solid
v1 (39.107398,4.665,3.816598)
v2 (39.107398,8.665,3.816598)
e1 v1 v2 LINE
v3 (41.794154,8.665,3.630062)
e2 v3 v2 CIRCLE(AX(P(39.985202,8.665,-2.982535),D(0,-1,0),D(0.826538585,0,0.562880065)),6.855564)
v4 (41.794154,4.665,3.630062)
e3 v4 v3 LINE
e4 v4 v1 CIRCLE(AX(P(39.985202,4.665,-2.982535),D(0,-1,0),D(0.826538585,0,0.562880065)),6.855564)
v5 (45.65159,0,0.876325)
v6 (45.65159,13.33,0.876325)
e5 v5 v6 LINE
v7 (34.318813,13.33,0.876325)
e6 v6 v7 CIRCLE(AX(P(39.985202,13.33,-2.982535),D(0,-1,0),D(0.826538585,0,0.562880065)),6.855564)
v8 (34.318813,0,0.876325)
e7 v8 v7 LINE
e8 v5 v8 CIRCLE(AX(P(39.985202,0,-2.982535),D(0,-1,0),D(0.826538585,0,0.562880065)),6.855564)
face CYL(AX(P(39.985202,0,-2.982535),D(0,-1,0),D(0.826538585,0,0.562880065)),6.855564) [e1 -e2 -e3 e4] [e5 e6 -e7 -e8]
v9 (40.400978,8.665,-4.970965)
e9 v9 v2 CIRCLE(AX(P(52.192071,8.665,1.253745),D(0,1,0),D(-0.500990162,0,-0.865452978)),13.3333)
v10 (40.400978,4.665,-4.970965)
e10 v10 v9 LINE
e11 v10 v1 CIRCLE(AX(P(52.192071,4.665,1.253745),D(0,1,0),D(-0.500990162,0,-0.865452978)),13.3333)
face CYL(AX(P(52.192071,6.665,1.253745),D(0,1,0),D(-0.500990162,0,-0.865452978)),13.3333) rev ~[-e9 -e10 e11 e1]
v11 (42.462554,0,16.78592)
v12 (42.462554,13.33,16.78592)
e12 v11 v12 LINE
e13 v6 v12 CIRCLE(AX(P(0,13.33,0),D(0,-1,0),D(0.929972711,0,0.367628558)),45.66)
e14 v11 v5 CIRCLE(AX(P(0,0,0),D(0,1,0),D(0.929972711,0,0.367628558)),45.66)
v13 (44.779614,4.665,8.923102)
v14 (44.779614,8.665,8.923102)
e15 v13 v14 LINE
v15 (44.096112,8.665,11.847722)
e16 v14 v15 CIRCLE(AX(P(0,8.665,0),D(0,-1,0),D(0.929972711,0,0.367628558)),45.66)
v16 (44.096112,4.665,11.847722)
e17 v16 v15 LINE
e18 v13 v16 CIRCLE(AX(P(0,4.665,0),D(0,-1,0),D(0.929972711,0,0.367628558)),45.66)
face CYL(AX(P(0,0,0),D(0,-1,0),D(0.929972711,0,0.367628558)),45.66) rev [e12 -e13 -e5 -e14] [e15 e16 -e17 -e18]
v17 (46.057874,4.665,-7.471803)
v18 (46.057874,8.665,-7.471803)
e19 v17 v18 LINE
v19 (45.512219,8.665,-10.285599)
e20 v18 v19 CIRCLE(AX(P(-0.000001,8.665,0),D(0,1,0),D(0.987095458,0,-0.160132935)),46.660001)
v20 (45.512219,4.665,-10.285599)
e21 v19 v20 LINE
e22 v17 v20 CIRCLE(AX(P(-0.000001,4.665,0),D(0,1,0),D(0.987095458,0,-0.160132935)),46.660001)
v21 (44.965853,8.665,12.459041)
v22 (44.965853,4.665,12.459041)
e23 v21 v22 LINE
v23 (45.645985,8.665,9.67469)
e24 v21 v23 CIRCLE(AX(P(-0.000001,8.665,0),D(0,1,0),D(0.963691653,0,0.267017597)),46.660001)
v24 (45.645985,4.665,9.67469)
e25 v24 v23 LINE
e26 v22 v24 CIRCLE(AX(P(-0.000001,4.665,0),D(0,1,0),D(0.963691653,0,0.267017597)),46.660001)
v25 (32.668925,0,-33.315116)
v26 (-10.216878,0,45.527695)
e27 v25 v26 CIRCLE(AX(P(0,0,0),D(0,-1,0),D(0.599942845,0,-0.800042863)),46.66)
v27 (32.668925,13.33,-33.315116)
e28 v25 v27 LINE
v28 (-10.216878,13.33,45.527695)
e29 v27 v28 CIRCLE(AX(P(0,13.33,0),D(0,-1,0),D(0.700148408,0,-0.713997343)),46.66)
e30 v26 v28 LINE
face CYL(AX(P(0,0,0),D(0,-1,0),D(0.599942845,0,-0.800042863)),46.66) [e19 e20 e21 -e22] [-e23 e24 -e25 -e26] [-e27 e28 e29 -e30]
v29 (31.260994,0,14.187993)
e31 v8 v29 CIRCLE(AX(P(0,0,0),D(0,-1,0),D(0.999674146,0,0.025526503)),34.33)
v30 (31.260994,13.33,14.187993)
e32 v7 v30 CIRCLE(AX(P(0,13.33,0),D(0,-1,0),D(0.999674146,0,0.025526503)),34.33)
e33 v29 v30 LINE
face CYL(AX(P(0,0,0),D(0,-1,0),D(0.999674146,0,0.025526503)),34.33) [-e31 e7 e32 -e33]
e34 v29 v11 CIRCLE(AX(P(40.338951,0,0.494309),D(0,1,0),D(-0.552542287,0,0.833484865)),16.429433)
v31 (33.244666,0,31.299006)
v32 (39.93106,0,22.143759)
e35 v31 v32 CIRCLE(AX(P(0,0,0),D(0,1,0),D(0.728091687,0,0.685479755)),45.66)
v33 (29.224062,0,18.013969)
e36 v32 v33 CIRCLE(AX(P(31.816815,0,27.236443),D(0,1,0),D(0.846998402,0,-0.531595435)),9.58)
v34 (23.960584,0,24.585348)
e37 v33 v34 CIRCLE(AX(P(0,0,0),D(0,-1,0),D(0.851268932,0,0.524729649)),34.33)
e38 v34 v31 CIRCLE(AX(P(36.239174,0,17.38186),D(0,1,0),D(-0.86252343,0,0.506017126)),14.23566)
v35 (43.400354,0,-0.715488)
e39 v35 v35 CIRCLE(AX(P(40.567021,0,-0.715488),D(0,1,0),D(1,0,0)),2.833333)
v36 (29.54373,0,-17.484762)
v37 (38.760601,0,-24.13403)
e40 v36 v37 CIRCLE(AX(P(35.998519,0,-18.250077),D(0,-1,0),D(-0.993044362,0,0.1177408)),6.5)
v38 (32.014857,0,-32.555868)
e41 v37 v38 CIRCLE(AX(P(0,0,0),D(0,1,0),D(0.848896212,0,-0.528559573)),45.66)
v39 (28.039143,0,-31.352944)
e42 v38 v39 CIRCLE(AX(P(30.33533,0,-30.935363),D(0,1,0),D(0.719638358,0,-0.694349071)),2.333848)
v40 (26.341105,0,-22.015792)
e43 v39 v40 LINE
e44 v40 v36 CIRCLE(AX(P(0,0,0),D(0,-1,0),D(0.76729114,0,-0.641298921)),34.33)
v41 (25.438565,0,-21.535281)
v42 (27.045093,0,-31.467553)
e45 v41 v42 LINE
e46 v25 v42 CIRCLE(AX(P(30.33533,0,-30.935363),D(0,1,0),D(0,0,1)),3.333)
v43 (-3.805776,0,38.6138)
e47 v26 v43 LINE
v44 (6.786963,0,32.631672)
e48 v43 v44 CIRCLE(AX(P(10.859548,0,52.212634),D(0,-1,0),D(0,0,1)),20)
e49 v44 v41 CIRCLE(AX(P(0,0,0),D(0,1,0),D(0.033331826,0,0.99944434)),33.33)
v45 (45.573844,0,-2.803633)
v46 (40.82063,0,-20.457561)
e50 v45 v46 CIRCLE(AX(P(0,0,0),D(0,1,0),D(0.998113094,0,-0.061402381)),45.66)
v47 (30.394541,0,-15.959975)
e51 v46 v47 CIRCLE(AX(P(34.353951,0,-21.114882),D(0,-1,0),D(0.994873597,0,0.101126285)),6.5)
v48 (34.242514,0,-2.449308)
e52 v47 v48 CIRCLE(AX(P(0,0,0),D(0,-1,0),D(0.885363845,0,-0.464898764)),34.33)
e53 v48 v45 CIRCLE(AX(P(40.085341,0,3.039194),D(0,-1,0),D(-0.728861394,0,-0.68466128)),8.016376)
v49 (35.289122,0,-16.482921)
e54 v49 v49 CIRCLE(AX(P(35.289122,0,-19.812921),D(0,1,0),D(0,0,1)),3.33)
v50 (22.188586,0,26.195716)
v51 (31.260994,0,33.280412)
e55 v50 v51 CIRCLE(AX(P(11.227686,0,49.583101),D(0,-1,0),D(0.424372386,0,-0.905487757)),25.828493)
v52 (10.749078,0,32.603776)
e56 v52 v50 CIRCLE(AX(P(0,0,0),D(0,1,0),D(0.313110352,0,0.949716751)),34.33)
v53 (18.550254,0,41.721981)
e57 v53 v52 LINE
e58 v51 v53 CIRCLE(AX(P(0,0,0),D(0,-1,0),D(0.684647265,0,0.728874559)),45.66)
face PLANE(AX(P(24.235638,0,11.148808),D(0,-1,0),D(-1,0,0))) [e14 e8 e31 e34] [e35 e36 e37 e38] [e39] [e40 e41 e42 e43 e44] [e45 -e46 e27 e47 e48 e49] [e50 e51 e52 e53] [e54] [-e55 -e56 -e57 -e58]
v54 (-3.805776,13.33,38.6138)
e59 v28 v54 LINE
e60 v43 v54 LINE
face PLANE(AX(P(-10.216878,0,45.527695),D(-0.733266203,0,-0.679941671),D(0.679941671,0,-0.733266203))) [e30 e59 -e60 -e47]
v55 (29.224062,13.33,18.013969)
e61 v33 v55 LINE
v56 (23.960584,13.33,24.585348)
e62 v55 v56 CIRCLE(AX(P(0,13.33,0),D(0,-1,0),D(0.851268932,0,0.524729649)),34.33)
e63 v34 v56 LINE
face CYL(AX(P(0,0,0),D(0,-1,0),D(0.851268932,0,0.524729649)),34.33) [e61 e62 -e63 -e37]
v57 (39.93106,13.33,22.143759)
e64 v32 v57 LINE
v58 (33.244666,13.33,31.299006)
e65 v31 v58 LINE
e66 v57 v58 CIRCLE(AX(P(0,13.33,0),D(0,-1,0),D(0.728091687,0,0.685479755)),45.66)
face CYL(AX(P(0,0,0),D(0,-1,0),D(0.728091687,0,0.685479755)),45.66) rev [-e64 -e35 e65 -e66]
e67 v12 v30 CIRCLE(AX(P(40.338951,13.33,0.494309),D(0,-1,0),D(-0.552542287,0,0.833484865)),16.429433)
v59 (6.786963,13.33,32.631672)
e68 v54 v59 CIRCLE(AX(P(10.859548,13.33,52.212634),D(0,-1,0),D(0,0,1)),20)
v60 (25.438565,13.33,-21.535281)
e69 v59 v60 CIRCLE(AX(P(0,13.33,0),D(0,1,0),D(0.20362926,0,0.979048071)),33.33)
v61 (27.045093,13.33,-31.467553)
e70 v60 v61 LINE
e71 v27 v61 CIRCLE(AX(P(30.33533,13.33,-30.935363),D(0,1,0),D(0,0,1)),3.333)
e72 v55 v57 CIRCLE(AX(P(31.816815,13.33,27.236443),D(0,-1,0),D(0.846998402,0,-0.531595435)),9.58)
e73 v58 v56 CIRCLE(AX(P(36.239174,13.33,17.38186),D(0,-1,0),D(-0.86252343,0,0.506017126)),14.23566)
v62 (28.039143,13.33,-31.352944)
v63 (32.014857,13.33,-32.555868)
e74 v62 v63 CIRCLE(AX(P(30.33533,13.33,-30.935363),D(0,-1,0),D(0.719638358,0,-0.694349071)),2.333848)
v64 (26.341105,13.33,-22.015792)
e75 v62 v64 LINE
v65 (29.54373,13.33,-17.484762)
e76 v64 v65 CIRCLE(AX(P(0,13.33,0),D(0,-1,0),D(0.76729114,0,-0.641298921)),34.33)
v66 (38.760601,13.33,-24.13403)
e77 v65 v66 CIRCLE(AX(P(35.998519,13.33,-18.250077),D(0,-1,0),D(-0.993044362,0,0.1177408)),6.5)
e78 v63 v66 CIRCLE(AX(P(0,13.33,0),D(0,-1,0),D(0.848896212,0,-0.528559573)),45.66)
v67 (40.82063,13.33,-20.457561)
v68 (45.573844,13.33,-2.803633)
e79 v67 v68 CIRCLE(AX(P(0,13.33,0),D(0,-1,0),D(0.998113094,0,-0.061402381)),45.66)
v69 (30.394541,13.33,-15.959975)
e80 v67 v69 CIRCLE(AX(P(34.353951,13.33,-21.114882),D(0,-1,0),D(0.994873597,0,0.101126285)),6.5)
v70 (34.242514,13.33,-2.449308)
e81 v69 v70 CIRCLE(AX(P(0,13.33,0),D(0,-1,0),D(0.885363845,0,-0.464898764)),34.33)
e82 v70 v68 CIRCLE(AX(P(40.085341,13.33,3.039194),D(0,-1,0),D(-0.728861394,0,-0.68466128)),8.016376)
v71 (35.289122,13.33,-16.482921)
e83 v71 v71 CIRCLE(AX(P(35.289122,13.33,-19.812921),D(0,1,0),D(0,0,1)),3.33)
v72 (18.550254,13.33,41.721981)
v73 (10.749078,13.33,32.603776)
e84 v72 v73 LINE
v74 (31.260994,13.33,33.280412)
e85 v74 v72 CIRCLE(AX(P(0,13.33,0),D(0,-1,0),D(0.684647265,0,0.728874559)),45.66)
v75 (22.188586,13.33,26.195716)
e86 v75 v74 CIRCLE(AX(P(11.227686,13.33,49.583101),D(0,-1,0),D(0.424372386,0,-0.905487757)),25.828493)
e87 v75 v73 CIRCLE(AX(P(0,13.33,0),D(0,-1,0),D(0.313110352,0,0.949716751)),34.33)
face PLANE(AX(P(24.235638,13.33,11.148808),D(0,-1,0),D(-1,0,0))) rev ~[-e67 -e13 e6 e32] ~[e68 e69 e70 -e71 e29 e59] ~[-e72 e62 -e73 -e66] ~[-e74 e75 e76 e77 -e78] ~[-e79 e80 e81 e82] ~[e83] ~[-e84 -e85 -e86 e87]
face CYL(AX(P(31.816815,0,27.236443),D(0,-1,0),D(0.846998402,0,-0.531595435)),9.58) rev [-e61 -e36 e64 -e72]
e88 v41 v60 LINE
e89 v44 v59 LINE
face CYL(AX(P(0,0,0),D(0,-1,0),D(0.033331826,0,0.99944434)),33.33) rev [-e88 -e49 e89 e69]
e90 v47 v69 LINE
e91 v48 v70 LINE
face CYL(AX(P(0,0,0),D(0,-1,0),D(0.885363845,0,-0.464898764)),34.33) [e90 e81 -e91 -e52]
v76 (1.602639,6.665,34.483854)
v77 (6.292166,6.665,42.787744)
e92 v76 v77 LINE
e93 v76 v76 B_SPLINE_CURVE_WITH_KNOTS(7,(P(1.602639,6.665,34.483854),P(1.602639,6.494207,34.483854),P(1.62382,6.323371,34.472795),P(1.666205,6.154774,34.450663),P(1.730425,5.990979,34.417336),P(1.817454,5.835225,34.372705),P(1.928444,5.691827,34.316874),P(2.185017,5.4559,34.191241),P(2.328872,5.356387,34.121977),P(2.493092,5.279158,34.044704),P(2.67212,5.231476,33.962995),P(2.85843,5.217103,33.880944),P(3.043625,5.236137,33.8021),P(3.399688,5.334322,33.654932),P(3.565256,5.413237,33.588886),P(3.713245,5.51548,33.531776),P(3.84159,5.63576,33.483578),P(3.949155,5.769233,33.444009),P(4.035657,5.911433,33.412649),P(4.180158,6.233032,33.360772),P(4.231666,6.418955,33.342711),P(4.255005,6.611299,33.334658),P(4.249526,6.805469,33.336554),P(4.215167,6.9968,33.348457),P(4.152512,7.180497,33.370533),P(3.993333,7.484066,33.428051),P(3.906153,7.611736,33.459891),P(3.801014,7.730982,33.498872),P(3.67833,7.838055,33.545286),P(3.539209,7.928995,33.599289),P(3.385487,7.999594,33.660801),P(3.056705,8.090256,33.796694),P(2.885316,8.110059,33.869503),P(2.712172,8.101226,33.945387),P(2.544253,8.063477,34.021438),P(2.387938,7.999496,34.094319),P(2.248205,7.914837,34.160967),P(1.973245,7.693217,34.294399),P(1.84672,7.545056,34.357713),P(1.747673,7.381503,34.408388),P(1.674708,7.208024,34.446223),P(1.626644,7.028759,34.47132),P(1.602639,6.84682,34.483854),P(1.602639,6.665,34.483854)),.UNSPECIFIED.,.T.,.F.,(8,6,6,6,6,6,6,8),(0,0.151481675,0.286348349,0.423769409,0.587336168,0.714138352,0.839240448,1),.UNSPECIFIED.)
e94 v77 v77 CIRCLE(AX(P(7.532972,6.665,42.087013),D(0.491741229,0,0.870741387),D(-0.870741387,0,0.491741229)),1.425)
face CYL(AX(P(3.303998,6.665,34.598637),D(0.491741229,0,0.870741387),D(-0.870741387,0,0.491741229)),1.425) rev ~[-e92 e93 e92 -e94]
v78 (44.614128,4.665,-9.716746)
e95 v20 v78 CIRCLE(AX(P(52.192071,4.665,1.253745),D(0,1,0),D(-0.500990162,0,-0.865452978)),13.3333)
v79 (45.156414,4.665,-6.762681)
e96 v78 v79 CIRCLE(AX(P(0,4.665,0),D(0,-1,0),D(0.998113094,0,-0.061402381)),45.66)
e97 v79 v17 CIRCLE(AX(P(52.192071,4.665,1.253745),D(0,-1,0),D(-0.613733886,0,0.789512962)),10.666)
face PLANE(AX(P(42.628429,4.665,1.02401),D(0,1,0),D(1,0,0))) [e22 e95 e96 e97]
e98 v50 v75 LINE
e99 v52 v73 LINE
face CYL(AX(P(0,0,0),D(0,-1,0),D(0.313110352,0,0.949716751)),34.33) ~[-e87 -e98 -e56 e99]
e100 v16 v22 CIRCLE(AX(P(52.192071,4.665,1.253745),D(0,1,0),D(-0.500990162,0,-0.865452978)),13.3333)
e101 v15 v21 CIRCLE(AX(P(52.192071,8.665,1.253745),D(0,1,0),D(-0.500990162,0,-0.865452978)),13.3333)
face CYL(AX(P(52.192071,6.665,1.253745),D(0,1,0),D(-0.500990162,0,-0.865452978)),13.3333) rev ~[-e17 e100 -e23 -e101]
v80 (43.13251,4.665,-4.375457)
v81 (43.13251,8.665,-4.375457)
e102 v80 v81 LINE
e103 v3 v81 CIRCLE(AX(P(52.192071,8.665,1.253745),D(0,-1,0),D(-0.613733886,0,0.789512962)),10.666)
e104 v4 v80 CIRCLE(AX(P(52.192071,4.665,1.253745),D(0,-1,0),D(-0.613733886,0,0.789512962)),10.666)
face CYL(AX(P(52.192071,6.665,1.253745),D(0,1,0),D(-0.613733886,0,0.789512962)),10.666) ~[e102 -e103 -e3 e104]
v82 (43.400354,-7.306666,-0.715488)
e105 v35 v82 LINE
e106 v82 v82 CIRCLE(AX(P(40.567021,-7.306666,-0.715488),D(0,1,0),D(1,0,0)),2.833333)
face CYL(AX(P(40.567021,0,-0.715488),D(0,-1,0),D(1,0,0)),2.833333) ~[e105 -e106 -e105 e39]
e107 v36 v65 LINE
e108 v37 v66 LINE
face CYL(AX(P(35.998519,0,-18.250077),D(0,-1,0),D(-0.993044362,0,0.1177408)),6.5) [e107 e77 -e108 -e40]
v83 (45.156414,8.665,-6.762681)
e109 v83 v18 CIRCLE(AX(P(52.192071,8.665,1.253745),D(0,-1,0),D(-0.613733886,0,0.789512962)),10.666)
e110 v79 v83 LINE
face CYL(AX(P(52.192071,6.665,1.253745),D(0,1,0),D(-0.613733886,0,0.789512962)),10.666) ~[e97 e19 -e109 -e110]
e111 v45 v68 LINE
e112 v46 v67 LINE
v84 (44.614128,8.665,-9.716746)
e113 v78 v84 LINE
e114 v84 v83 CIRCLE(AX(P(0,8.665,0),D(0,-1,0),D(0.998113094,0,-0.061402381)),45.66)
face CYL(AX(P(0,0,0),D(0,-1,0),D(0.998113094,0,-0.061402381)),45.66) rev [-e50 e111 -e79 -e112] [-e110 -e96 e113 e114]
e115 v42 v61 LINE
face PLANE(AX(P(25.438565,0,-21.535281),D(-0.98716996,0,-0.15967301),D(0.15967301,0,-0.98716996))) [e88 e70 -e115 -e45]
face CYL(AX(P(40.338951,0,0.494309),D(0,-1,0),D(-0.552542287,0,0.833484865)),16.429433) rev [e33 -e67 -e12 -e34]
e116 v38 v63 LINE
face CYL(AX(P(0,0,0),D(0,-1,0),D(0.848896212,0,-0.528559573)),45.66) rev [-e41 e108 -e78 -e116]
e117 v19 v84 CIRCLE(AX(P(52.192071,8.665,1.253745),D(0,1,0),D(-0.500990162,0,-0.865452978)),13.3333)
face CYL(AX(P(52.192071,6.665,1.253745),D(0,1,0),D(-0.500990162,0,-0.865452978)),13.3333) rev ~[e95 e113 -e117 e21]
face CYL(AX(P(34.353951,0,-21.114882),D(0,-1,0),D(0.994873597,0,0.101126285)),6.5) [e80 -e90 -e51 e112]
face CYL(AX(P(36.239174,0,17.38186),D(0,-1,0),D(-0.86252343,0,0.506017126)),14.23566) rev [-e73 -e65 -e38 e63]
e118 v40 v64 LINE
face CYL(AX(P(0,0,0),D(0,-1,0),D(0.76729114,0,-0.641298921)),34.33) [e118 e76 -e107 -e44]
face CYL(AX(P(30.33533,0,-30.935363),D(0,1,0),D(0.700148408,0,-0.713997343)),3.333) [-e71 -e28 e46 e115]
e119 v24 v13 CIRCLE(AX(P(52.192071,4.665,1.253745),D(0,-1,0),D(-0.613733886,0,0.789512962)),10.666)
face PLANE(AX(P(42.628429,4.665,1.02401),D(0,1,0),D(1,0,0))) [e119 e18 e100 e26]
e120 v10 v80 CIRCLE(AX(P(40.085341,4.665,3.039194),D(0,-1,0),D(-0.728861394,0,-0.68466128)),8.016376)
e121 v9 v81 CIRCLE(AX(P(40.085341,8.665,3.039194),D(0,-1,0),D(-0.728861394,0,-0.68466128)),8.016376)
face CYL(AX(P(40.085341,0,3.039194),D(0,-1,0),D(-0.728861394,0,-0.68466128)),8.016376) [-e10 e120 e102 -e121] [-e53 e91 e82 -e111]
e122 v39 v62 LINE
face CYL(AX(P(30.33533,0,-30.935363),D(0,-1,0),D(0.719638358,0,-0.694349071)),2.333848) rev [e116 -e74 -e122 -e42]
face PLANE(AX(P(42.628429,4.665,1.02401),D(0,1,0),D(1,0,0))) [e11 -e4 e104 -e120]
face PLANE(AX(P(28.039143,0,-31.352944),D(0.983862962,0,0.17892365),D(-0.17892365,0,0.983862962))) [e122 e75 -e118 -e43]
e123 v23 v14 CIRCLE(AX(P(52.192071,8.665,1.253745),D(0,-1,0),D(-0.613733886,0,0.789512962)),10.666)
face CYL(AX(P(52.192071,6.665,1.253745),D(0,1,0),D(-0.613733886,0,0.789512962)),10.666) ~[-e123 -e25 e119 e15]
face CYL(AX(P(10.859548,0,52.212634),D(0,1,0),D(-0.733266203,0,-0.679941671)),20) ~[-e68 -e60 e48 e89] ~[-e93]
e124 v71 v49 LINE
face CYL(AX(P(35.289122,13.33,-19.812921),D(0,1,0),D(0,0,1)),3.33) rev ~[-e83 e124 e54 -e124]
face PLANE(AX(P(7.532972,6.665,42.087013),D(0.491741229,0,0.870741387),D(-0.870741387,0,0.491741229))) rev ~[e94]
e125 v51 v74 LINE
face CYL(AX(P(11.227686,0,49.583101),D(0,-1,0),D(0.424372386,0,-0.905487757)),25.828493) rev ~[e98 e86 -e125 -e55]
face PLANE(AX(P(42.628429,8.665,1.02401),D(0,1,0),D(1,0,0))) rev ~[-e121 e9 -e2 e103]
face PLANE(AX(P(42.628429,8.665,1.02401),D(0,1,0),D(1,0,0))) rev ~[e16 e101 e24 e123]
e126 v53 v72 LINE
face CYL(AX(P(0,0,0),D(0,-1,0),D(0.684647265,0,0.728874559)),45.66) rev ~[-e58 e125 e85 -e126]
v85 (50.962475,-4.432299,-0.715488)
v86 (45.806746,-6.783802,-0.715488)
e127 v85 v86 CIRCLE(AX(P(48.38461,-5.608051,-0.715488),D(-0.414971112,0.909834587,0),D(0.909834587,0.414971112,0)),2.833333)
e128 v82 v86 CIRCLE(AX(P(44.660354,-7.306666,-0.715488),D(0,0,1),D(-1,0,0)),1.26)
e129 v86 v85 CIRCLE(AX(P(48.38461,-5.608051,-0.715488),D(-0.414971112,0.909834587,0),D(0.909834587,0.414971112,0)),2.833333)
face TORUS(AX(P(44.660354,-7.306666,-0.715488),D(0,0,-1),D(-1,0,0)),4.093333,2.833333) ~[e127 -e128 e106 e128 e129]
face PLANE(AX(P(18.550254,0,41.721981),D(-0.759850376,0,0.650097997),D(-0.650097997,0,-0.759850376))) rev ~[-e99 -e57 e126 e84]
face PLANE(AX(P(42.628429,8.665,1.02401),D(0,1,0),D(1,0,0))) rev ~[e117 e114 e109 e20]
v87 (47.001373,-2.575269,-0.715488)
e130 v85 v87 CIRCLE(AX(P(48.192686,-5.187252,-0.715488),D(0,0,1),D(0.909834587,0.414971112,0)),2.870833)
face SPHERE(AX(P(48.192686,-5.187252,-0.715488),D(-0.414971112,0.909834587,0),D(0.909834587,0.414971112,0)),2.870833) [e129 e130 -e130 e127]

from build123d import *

# Parameters (mm, degrees)
BOSS_EXTRUDE1_DEPTH        = 13.33
FILLET1_R                  = 20
SKETCH3_R                  = 3.33
CUT_EXTRUDE2_DEPTH         = 68.320131462
FILLET2_R                  = 3.333
SKETCH4_R                  = 2.8333333
DOME1_FACE_RADIUS          = 2.8333333
DOME1_HEIGHT               = 3.3333333
CUT_EXTRUDE3_DEPTH         = 2
MIRROR3_COPY_1_FACE_RADIUS = 2.8333333
MIRROR3_COPY_1_HEIGHT      = 3.3333333
SKETCH16_W                 = 36.728720905
SKETCH16_H                 = 19.011400322
CUT_EXTRUDE4_DEPTH         = 30
CUT_EXTRUDE5_DEPTH         = 71.999747127
SKETCH19_R                 = 1.425
CUT_EXTRUDE6_DEPTH         = 8.6


with BuildPart() as part:
    # Sketch1 → Boss-Extrude1 (new body)
    with BuildSketch(Plane(origin=(0, 0, 0), x_dir=(1, 0, 0), z_dir=(0, 1, 0))):
        with BuildLine():
            Line((25.438564969, 21.535280641), (27.993333135, 37.33))
            ThreePointArc((27.993333135, 37.33), (42.371570445, -19.53984693), (-10.216878485, -45.527694802))
            Line((-10.216878485, -45.527694802), (1.110949751, -33.311479863))
            ThreePointArc((1.110949751, -33.311479863), (30.46737546, -13.513990254), (25.438564969, 21.535280641))
        make_face()
    extrude(amount=BOSS_EXTRUDE1_DEPTH)

    # Fillet1
    fillet1_edges = [part.edges().sort_by_distance(p)[0] for p in [
        (1.110949751, 6.665, 33.311479863),
    ]]
    fillet(fillet1_edges, radius=FILLET1_R)

    # Sketch3 → Cut-Extrude2 (cut, through all)
    with BuildSketch(Plane(origin=(0, 13.33, 0), x_dir=(1, 0, 0), z_dir=(0, 1, 0))):
        with Locations(Location((35.289122258, 19.812921474, 0), (0, 0, 270))):
            Circle(SKETCH3_R)
    extrude(amount=-CUT_EXTRUDE2_DEPTH, mode=Mode.SUBTRACT)

    # Fillet2
    fillet2_edges = [part.edges().sort_by_distance(p)[0] for p in [
        (27.993333135, 6.665, -37.33),
    ]]
    fillet(fillet2_edges, radius=FILLET2_R)

    # Sweep1: sweep along a path in Sketch6
    with BuildLine(Plane.XY) as sweep1_path:
        Line((40.567020893, 13.33), (40.567020893, 20.636666))
        ThreePointArc((40.567020893, 20.636666), (45.529478945, 24.636666), (48.384610469, 18.938050913))
    # Sketch4 → Sweep1 (sweep)
    with BuildSketch(Plane(origin=(0, 13.33, 0), x_dir=(1, 0, 0), z_dir=(0, 1, 0))):
        with Locations((40.567020893, 0.715488074)):
            Circle(SKETCH4_R)
    sweep1 = sweep(path=sweep1_path.line)

    # Dome1: a dome of height H over a round flat face of radius A is a cap of a sphere of radius (A * A + H * H) / (2 * H)
    dome1_r = (DOME1_FACE_RADIUS * DOME1_FACE_RADIUS + DOME1_HEIGHT * DOME1_HEIGHT) / (2 * DOME1_HEIGHT)
    dome1_base = Plane((48.384610469, 18.938050913, -0.715488074), z_dir=(-0.414971112372, -0.909834587107, 0))
    with Locations(dome1_base.offset(DOME1_HEIGHT - dome1_r)):
        dome1_ball = Sphere(dome1_r, mode=Mode.PRIVATE)
    add(split(dome1_ball, bisect_by=dome1_base, keep=Keep.TOP, mode=Mode.PRIVATE))

    # Sketch7 → Cut-Extrude3 (cut, symmetric)
    with BuildSketch(Plane(origin=(0, 6.665, 0), x_dir=(1, 0, 0), z_dir=(0, 1, 0))):
        with BuildLine():
            ThreePointArc((44.965852541, -12.459041105), (45.327303444, -11.072089345), (45.645985213, -9.674690379))
            ThreePointArc((45.645985213, -9.674690379), (41.52914689, -0.997602982), (46.057874066, 7.47180276))
            ThreePointArc((46.057874066, 7.47180276), (45.806657105, 8.882891694), (45.51221871, 10.285599066))
            ThreePointArc((45.51221871, 10.285599066), (38.862616133, -0.933548234), (44.965852541, -12.459041105))
        make_face()
    extrude(amount=CUT_EXTRUDE3_DEPTH, both=True, mode=Mode.SUBTRACT)

    # Mirror3: Sweep1 across plane
    add(sweep1.mirror(Plane.ZX.offset(6.665)))

    # Mirror3 copy 1: a dome of height H over a round flat face of radius A is a cap of a sphere of radius (A * A + H * H) / (2 * H)
    mirror3_copy_1_r = (MIRROR3_COPY_1_FACE_RADIUS * MIRROR3_COPY_1_FACE_RADIUS + MIRROR3_COPY_1_HEIGHT * MIRROR3_COPY_1_HEIGHT) / (2 * MIRROR3_COPY_1_HEIGHT)
    mirror3_copy_1_base = Plane((48.384610469, -5.608050913, -0.715488074), z_dir=(-0.414971112372, 0.909834587107, 0))
    with Locations(mirror3_copy_1_base.offset(MIRROR3_COPY_1_HEIGHT - mirror3_copy_1_r)):
        mirror3_copy_1_ball = Sphere(mirror3_copy_1_r, mode=Mode.PRIVATE)
    add(split(mirror3_copy_1_ball, bisect_by=mirror3_copy_1_base, keep=Keep.TOP, mode=Mode.PRIVATE))

    # Sketch16 → Cut-Extrude4 (cut)
    with BuildSketch(Plane(origin=(0, 13.33, 0), x_dir=(1, 0, 0), z_dir=(0, 1, 0))):
        with Locations((41.954103887, 0)):
            Rectangle(SKETCH16_W, SKETCH16_H)
    extrude(amount=CUT_EXTRUDE4_DEPTH, mode=Mode.SUBTRACT)

    # Sketch18 → Cut-Extrude5 (cut, through all)
    with BuildSketch(Plane.XZ):
        with BuildLine():
            Line((28.039143401, -31.35294351), (26.341104847, -22.015791956))
            ThreePointArc((26.341104847, -22.015791956), (28.034108775, -19.815086303), (29.543730196, -17.484762112))
            ThreePointArc((29.543730196, -17.484762112), (32.195597251, -23.521489799), (38.760601016, -24.1340301))
            ThreePointArc((38.760601016, -24.1340301), (35.637384762, -28.544919116), (32.014856699, -32.555868143))
            ThreePointArc((32.014856699, -32.555868143), (29.659442281, -33.169198731), (28.039143401, -31.35294351))
        make_face()
        with BuildLine():
            Line((18.550254331, 41.721980589), (10.749078367, 32.603776074))
            ThreePointArc((10.749078367, 32.603776074), (16.777611199, 29.950970977), (22.188585816, 26.195716434))
            ThreePointArc((22.188585816, 26.195716434), (27.124492616, 29.226219474), (31.260994101, 33.280412374))
            ThreePointArc((31.260994101, 33.280412374), (25.260742984, 38.035910189), (18.550254331, 41.721980589))
        make_face()
        with BuildLine():
            ThreePointArc((40.820629514, -20.457561098), (36.928571374, -15.146521153), (30.394540812, -15.959974588))
            ThreePointArc((30.394540812, -15.959974588), (33.016991898, -9.403570916), (34.242514373, -2.449307946))
            ThreePointArc((34.242514373, -2.449307946), (39.834796056, -4.973265496), (45.573843855, -2.803632696))
            ThreePointArc((45.573843855, -2.803632696), (44.089869065, -11.870932812), (40.820629514, -20.457561098))
        make_face()
        with BuildLine():
            ThreePointArc((45.651589838, 0.876324867), (39.98520163, 3.873028579), (34.318813422, 0.876324867))
            ThreePointArc((34.318813422, 0.876324867), (33.458600037, 7.685764997), (31.260994101, 14.187993085))
            ThreePointArc((31.260994101, 14.187993085), (36.627069292, 16.498940097), (42.462553984, 16.785919968))
            ThreePointArc((42.462553984, 16.785919968), (44.769458221, 8.973918351), (45.651589838, 0.876324867))
        make_face()
        with BuildLine():
            ThreePointArc((39.931059829, 22.143758962), (35.264351947, 18.298272838), (29.224062449, 18.013968857))
            ThreePointArc((29.224062449, 18.013968857), (26.794540492, 21.461628545), (23.960583625, 24.58534792))
            ThreePointArc((23.960583625, 24.58534792), (27.897400776, 28.917406773), (33.24466644, 31.299005627))
            ThreePointArc((33.24466644, 31.299005627), (36.873111669, 26.929709168), (39.931059829, 22.143758962))
        make_face()
    extrude(amount=-CUT_EXTRUDE5_DEPTH, mode=Mode.SUBTRACT)

    # Sketch19 → Cut-Extrude6 (cut, symmetric)
    with BuildSketch(Plane(origin=(15.613362891, 0, 27.64706404), x_dir=(0.8707413871359999, 0, -0.491741229437267), z_dir=(0.491741229437267, 0, 0.8707413871359999))):
        with Locations(Location((-14.136648815, 6.665, 0), (0, 0, 180))):
            Circle(SKETCH19_R)
    extrude(amount=CUT_EXTRUDE6_DEPTH, both=True, mode=Mode.SUBTRACT)


solid = part.part
